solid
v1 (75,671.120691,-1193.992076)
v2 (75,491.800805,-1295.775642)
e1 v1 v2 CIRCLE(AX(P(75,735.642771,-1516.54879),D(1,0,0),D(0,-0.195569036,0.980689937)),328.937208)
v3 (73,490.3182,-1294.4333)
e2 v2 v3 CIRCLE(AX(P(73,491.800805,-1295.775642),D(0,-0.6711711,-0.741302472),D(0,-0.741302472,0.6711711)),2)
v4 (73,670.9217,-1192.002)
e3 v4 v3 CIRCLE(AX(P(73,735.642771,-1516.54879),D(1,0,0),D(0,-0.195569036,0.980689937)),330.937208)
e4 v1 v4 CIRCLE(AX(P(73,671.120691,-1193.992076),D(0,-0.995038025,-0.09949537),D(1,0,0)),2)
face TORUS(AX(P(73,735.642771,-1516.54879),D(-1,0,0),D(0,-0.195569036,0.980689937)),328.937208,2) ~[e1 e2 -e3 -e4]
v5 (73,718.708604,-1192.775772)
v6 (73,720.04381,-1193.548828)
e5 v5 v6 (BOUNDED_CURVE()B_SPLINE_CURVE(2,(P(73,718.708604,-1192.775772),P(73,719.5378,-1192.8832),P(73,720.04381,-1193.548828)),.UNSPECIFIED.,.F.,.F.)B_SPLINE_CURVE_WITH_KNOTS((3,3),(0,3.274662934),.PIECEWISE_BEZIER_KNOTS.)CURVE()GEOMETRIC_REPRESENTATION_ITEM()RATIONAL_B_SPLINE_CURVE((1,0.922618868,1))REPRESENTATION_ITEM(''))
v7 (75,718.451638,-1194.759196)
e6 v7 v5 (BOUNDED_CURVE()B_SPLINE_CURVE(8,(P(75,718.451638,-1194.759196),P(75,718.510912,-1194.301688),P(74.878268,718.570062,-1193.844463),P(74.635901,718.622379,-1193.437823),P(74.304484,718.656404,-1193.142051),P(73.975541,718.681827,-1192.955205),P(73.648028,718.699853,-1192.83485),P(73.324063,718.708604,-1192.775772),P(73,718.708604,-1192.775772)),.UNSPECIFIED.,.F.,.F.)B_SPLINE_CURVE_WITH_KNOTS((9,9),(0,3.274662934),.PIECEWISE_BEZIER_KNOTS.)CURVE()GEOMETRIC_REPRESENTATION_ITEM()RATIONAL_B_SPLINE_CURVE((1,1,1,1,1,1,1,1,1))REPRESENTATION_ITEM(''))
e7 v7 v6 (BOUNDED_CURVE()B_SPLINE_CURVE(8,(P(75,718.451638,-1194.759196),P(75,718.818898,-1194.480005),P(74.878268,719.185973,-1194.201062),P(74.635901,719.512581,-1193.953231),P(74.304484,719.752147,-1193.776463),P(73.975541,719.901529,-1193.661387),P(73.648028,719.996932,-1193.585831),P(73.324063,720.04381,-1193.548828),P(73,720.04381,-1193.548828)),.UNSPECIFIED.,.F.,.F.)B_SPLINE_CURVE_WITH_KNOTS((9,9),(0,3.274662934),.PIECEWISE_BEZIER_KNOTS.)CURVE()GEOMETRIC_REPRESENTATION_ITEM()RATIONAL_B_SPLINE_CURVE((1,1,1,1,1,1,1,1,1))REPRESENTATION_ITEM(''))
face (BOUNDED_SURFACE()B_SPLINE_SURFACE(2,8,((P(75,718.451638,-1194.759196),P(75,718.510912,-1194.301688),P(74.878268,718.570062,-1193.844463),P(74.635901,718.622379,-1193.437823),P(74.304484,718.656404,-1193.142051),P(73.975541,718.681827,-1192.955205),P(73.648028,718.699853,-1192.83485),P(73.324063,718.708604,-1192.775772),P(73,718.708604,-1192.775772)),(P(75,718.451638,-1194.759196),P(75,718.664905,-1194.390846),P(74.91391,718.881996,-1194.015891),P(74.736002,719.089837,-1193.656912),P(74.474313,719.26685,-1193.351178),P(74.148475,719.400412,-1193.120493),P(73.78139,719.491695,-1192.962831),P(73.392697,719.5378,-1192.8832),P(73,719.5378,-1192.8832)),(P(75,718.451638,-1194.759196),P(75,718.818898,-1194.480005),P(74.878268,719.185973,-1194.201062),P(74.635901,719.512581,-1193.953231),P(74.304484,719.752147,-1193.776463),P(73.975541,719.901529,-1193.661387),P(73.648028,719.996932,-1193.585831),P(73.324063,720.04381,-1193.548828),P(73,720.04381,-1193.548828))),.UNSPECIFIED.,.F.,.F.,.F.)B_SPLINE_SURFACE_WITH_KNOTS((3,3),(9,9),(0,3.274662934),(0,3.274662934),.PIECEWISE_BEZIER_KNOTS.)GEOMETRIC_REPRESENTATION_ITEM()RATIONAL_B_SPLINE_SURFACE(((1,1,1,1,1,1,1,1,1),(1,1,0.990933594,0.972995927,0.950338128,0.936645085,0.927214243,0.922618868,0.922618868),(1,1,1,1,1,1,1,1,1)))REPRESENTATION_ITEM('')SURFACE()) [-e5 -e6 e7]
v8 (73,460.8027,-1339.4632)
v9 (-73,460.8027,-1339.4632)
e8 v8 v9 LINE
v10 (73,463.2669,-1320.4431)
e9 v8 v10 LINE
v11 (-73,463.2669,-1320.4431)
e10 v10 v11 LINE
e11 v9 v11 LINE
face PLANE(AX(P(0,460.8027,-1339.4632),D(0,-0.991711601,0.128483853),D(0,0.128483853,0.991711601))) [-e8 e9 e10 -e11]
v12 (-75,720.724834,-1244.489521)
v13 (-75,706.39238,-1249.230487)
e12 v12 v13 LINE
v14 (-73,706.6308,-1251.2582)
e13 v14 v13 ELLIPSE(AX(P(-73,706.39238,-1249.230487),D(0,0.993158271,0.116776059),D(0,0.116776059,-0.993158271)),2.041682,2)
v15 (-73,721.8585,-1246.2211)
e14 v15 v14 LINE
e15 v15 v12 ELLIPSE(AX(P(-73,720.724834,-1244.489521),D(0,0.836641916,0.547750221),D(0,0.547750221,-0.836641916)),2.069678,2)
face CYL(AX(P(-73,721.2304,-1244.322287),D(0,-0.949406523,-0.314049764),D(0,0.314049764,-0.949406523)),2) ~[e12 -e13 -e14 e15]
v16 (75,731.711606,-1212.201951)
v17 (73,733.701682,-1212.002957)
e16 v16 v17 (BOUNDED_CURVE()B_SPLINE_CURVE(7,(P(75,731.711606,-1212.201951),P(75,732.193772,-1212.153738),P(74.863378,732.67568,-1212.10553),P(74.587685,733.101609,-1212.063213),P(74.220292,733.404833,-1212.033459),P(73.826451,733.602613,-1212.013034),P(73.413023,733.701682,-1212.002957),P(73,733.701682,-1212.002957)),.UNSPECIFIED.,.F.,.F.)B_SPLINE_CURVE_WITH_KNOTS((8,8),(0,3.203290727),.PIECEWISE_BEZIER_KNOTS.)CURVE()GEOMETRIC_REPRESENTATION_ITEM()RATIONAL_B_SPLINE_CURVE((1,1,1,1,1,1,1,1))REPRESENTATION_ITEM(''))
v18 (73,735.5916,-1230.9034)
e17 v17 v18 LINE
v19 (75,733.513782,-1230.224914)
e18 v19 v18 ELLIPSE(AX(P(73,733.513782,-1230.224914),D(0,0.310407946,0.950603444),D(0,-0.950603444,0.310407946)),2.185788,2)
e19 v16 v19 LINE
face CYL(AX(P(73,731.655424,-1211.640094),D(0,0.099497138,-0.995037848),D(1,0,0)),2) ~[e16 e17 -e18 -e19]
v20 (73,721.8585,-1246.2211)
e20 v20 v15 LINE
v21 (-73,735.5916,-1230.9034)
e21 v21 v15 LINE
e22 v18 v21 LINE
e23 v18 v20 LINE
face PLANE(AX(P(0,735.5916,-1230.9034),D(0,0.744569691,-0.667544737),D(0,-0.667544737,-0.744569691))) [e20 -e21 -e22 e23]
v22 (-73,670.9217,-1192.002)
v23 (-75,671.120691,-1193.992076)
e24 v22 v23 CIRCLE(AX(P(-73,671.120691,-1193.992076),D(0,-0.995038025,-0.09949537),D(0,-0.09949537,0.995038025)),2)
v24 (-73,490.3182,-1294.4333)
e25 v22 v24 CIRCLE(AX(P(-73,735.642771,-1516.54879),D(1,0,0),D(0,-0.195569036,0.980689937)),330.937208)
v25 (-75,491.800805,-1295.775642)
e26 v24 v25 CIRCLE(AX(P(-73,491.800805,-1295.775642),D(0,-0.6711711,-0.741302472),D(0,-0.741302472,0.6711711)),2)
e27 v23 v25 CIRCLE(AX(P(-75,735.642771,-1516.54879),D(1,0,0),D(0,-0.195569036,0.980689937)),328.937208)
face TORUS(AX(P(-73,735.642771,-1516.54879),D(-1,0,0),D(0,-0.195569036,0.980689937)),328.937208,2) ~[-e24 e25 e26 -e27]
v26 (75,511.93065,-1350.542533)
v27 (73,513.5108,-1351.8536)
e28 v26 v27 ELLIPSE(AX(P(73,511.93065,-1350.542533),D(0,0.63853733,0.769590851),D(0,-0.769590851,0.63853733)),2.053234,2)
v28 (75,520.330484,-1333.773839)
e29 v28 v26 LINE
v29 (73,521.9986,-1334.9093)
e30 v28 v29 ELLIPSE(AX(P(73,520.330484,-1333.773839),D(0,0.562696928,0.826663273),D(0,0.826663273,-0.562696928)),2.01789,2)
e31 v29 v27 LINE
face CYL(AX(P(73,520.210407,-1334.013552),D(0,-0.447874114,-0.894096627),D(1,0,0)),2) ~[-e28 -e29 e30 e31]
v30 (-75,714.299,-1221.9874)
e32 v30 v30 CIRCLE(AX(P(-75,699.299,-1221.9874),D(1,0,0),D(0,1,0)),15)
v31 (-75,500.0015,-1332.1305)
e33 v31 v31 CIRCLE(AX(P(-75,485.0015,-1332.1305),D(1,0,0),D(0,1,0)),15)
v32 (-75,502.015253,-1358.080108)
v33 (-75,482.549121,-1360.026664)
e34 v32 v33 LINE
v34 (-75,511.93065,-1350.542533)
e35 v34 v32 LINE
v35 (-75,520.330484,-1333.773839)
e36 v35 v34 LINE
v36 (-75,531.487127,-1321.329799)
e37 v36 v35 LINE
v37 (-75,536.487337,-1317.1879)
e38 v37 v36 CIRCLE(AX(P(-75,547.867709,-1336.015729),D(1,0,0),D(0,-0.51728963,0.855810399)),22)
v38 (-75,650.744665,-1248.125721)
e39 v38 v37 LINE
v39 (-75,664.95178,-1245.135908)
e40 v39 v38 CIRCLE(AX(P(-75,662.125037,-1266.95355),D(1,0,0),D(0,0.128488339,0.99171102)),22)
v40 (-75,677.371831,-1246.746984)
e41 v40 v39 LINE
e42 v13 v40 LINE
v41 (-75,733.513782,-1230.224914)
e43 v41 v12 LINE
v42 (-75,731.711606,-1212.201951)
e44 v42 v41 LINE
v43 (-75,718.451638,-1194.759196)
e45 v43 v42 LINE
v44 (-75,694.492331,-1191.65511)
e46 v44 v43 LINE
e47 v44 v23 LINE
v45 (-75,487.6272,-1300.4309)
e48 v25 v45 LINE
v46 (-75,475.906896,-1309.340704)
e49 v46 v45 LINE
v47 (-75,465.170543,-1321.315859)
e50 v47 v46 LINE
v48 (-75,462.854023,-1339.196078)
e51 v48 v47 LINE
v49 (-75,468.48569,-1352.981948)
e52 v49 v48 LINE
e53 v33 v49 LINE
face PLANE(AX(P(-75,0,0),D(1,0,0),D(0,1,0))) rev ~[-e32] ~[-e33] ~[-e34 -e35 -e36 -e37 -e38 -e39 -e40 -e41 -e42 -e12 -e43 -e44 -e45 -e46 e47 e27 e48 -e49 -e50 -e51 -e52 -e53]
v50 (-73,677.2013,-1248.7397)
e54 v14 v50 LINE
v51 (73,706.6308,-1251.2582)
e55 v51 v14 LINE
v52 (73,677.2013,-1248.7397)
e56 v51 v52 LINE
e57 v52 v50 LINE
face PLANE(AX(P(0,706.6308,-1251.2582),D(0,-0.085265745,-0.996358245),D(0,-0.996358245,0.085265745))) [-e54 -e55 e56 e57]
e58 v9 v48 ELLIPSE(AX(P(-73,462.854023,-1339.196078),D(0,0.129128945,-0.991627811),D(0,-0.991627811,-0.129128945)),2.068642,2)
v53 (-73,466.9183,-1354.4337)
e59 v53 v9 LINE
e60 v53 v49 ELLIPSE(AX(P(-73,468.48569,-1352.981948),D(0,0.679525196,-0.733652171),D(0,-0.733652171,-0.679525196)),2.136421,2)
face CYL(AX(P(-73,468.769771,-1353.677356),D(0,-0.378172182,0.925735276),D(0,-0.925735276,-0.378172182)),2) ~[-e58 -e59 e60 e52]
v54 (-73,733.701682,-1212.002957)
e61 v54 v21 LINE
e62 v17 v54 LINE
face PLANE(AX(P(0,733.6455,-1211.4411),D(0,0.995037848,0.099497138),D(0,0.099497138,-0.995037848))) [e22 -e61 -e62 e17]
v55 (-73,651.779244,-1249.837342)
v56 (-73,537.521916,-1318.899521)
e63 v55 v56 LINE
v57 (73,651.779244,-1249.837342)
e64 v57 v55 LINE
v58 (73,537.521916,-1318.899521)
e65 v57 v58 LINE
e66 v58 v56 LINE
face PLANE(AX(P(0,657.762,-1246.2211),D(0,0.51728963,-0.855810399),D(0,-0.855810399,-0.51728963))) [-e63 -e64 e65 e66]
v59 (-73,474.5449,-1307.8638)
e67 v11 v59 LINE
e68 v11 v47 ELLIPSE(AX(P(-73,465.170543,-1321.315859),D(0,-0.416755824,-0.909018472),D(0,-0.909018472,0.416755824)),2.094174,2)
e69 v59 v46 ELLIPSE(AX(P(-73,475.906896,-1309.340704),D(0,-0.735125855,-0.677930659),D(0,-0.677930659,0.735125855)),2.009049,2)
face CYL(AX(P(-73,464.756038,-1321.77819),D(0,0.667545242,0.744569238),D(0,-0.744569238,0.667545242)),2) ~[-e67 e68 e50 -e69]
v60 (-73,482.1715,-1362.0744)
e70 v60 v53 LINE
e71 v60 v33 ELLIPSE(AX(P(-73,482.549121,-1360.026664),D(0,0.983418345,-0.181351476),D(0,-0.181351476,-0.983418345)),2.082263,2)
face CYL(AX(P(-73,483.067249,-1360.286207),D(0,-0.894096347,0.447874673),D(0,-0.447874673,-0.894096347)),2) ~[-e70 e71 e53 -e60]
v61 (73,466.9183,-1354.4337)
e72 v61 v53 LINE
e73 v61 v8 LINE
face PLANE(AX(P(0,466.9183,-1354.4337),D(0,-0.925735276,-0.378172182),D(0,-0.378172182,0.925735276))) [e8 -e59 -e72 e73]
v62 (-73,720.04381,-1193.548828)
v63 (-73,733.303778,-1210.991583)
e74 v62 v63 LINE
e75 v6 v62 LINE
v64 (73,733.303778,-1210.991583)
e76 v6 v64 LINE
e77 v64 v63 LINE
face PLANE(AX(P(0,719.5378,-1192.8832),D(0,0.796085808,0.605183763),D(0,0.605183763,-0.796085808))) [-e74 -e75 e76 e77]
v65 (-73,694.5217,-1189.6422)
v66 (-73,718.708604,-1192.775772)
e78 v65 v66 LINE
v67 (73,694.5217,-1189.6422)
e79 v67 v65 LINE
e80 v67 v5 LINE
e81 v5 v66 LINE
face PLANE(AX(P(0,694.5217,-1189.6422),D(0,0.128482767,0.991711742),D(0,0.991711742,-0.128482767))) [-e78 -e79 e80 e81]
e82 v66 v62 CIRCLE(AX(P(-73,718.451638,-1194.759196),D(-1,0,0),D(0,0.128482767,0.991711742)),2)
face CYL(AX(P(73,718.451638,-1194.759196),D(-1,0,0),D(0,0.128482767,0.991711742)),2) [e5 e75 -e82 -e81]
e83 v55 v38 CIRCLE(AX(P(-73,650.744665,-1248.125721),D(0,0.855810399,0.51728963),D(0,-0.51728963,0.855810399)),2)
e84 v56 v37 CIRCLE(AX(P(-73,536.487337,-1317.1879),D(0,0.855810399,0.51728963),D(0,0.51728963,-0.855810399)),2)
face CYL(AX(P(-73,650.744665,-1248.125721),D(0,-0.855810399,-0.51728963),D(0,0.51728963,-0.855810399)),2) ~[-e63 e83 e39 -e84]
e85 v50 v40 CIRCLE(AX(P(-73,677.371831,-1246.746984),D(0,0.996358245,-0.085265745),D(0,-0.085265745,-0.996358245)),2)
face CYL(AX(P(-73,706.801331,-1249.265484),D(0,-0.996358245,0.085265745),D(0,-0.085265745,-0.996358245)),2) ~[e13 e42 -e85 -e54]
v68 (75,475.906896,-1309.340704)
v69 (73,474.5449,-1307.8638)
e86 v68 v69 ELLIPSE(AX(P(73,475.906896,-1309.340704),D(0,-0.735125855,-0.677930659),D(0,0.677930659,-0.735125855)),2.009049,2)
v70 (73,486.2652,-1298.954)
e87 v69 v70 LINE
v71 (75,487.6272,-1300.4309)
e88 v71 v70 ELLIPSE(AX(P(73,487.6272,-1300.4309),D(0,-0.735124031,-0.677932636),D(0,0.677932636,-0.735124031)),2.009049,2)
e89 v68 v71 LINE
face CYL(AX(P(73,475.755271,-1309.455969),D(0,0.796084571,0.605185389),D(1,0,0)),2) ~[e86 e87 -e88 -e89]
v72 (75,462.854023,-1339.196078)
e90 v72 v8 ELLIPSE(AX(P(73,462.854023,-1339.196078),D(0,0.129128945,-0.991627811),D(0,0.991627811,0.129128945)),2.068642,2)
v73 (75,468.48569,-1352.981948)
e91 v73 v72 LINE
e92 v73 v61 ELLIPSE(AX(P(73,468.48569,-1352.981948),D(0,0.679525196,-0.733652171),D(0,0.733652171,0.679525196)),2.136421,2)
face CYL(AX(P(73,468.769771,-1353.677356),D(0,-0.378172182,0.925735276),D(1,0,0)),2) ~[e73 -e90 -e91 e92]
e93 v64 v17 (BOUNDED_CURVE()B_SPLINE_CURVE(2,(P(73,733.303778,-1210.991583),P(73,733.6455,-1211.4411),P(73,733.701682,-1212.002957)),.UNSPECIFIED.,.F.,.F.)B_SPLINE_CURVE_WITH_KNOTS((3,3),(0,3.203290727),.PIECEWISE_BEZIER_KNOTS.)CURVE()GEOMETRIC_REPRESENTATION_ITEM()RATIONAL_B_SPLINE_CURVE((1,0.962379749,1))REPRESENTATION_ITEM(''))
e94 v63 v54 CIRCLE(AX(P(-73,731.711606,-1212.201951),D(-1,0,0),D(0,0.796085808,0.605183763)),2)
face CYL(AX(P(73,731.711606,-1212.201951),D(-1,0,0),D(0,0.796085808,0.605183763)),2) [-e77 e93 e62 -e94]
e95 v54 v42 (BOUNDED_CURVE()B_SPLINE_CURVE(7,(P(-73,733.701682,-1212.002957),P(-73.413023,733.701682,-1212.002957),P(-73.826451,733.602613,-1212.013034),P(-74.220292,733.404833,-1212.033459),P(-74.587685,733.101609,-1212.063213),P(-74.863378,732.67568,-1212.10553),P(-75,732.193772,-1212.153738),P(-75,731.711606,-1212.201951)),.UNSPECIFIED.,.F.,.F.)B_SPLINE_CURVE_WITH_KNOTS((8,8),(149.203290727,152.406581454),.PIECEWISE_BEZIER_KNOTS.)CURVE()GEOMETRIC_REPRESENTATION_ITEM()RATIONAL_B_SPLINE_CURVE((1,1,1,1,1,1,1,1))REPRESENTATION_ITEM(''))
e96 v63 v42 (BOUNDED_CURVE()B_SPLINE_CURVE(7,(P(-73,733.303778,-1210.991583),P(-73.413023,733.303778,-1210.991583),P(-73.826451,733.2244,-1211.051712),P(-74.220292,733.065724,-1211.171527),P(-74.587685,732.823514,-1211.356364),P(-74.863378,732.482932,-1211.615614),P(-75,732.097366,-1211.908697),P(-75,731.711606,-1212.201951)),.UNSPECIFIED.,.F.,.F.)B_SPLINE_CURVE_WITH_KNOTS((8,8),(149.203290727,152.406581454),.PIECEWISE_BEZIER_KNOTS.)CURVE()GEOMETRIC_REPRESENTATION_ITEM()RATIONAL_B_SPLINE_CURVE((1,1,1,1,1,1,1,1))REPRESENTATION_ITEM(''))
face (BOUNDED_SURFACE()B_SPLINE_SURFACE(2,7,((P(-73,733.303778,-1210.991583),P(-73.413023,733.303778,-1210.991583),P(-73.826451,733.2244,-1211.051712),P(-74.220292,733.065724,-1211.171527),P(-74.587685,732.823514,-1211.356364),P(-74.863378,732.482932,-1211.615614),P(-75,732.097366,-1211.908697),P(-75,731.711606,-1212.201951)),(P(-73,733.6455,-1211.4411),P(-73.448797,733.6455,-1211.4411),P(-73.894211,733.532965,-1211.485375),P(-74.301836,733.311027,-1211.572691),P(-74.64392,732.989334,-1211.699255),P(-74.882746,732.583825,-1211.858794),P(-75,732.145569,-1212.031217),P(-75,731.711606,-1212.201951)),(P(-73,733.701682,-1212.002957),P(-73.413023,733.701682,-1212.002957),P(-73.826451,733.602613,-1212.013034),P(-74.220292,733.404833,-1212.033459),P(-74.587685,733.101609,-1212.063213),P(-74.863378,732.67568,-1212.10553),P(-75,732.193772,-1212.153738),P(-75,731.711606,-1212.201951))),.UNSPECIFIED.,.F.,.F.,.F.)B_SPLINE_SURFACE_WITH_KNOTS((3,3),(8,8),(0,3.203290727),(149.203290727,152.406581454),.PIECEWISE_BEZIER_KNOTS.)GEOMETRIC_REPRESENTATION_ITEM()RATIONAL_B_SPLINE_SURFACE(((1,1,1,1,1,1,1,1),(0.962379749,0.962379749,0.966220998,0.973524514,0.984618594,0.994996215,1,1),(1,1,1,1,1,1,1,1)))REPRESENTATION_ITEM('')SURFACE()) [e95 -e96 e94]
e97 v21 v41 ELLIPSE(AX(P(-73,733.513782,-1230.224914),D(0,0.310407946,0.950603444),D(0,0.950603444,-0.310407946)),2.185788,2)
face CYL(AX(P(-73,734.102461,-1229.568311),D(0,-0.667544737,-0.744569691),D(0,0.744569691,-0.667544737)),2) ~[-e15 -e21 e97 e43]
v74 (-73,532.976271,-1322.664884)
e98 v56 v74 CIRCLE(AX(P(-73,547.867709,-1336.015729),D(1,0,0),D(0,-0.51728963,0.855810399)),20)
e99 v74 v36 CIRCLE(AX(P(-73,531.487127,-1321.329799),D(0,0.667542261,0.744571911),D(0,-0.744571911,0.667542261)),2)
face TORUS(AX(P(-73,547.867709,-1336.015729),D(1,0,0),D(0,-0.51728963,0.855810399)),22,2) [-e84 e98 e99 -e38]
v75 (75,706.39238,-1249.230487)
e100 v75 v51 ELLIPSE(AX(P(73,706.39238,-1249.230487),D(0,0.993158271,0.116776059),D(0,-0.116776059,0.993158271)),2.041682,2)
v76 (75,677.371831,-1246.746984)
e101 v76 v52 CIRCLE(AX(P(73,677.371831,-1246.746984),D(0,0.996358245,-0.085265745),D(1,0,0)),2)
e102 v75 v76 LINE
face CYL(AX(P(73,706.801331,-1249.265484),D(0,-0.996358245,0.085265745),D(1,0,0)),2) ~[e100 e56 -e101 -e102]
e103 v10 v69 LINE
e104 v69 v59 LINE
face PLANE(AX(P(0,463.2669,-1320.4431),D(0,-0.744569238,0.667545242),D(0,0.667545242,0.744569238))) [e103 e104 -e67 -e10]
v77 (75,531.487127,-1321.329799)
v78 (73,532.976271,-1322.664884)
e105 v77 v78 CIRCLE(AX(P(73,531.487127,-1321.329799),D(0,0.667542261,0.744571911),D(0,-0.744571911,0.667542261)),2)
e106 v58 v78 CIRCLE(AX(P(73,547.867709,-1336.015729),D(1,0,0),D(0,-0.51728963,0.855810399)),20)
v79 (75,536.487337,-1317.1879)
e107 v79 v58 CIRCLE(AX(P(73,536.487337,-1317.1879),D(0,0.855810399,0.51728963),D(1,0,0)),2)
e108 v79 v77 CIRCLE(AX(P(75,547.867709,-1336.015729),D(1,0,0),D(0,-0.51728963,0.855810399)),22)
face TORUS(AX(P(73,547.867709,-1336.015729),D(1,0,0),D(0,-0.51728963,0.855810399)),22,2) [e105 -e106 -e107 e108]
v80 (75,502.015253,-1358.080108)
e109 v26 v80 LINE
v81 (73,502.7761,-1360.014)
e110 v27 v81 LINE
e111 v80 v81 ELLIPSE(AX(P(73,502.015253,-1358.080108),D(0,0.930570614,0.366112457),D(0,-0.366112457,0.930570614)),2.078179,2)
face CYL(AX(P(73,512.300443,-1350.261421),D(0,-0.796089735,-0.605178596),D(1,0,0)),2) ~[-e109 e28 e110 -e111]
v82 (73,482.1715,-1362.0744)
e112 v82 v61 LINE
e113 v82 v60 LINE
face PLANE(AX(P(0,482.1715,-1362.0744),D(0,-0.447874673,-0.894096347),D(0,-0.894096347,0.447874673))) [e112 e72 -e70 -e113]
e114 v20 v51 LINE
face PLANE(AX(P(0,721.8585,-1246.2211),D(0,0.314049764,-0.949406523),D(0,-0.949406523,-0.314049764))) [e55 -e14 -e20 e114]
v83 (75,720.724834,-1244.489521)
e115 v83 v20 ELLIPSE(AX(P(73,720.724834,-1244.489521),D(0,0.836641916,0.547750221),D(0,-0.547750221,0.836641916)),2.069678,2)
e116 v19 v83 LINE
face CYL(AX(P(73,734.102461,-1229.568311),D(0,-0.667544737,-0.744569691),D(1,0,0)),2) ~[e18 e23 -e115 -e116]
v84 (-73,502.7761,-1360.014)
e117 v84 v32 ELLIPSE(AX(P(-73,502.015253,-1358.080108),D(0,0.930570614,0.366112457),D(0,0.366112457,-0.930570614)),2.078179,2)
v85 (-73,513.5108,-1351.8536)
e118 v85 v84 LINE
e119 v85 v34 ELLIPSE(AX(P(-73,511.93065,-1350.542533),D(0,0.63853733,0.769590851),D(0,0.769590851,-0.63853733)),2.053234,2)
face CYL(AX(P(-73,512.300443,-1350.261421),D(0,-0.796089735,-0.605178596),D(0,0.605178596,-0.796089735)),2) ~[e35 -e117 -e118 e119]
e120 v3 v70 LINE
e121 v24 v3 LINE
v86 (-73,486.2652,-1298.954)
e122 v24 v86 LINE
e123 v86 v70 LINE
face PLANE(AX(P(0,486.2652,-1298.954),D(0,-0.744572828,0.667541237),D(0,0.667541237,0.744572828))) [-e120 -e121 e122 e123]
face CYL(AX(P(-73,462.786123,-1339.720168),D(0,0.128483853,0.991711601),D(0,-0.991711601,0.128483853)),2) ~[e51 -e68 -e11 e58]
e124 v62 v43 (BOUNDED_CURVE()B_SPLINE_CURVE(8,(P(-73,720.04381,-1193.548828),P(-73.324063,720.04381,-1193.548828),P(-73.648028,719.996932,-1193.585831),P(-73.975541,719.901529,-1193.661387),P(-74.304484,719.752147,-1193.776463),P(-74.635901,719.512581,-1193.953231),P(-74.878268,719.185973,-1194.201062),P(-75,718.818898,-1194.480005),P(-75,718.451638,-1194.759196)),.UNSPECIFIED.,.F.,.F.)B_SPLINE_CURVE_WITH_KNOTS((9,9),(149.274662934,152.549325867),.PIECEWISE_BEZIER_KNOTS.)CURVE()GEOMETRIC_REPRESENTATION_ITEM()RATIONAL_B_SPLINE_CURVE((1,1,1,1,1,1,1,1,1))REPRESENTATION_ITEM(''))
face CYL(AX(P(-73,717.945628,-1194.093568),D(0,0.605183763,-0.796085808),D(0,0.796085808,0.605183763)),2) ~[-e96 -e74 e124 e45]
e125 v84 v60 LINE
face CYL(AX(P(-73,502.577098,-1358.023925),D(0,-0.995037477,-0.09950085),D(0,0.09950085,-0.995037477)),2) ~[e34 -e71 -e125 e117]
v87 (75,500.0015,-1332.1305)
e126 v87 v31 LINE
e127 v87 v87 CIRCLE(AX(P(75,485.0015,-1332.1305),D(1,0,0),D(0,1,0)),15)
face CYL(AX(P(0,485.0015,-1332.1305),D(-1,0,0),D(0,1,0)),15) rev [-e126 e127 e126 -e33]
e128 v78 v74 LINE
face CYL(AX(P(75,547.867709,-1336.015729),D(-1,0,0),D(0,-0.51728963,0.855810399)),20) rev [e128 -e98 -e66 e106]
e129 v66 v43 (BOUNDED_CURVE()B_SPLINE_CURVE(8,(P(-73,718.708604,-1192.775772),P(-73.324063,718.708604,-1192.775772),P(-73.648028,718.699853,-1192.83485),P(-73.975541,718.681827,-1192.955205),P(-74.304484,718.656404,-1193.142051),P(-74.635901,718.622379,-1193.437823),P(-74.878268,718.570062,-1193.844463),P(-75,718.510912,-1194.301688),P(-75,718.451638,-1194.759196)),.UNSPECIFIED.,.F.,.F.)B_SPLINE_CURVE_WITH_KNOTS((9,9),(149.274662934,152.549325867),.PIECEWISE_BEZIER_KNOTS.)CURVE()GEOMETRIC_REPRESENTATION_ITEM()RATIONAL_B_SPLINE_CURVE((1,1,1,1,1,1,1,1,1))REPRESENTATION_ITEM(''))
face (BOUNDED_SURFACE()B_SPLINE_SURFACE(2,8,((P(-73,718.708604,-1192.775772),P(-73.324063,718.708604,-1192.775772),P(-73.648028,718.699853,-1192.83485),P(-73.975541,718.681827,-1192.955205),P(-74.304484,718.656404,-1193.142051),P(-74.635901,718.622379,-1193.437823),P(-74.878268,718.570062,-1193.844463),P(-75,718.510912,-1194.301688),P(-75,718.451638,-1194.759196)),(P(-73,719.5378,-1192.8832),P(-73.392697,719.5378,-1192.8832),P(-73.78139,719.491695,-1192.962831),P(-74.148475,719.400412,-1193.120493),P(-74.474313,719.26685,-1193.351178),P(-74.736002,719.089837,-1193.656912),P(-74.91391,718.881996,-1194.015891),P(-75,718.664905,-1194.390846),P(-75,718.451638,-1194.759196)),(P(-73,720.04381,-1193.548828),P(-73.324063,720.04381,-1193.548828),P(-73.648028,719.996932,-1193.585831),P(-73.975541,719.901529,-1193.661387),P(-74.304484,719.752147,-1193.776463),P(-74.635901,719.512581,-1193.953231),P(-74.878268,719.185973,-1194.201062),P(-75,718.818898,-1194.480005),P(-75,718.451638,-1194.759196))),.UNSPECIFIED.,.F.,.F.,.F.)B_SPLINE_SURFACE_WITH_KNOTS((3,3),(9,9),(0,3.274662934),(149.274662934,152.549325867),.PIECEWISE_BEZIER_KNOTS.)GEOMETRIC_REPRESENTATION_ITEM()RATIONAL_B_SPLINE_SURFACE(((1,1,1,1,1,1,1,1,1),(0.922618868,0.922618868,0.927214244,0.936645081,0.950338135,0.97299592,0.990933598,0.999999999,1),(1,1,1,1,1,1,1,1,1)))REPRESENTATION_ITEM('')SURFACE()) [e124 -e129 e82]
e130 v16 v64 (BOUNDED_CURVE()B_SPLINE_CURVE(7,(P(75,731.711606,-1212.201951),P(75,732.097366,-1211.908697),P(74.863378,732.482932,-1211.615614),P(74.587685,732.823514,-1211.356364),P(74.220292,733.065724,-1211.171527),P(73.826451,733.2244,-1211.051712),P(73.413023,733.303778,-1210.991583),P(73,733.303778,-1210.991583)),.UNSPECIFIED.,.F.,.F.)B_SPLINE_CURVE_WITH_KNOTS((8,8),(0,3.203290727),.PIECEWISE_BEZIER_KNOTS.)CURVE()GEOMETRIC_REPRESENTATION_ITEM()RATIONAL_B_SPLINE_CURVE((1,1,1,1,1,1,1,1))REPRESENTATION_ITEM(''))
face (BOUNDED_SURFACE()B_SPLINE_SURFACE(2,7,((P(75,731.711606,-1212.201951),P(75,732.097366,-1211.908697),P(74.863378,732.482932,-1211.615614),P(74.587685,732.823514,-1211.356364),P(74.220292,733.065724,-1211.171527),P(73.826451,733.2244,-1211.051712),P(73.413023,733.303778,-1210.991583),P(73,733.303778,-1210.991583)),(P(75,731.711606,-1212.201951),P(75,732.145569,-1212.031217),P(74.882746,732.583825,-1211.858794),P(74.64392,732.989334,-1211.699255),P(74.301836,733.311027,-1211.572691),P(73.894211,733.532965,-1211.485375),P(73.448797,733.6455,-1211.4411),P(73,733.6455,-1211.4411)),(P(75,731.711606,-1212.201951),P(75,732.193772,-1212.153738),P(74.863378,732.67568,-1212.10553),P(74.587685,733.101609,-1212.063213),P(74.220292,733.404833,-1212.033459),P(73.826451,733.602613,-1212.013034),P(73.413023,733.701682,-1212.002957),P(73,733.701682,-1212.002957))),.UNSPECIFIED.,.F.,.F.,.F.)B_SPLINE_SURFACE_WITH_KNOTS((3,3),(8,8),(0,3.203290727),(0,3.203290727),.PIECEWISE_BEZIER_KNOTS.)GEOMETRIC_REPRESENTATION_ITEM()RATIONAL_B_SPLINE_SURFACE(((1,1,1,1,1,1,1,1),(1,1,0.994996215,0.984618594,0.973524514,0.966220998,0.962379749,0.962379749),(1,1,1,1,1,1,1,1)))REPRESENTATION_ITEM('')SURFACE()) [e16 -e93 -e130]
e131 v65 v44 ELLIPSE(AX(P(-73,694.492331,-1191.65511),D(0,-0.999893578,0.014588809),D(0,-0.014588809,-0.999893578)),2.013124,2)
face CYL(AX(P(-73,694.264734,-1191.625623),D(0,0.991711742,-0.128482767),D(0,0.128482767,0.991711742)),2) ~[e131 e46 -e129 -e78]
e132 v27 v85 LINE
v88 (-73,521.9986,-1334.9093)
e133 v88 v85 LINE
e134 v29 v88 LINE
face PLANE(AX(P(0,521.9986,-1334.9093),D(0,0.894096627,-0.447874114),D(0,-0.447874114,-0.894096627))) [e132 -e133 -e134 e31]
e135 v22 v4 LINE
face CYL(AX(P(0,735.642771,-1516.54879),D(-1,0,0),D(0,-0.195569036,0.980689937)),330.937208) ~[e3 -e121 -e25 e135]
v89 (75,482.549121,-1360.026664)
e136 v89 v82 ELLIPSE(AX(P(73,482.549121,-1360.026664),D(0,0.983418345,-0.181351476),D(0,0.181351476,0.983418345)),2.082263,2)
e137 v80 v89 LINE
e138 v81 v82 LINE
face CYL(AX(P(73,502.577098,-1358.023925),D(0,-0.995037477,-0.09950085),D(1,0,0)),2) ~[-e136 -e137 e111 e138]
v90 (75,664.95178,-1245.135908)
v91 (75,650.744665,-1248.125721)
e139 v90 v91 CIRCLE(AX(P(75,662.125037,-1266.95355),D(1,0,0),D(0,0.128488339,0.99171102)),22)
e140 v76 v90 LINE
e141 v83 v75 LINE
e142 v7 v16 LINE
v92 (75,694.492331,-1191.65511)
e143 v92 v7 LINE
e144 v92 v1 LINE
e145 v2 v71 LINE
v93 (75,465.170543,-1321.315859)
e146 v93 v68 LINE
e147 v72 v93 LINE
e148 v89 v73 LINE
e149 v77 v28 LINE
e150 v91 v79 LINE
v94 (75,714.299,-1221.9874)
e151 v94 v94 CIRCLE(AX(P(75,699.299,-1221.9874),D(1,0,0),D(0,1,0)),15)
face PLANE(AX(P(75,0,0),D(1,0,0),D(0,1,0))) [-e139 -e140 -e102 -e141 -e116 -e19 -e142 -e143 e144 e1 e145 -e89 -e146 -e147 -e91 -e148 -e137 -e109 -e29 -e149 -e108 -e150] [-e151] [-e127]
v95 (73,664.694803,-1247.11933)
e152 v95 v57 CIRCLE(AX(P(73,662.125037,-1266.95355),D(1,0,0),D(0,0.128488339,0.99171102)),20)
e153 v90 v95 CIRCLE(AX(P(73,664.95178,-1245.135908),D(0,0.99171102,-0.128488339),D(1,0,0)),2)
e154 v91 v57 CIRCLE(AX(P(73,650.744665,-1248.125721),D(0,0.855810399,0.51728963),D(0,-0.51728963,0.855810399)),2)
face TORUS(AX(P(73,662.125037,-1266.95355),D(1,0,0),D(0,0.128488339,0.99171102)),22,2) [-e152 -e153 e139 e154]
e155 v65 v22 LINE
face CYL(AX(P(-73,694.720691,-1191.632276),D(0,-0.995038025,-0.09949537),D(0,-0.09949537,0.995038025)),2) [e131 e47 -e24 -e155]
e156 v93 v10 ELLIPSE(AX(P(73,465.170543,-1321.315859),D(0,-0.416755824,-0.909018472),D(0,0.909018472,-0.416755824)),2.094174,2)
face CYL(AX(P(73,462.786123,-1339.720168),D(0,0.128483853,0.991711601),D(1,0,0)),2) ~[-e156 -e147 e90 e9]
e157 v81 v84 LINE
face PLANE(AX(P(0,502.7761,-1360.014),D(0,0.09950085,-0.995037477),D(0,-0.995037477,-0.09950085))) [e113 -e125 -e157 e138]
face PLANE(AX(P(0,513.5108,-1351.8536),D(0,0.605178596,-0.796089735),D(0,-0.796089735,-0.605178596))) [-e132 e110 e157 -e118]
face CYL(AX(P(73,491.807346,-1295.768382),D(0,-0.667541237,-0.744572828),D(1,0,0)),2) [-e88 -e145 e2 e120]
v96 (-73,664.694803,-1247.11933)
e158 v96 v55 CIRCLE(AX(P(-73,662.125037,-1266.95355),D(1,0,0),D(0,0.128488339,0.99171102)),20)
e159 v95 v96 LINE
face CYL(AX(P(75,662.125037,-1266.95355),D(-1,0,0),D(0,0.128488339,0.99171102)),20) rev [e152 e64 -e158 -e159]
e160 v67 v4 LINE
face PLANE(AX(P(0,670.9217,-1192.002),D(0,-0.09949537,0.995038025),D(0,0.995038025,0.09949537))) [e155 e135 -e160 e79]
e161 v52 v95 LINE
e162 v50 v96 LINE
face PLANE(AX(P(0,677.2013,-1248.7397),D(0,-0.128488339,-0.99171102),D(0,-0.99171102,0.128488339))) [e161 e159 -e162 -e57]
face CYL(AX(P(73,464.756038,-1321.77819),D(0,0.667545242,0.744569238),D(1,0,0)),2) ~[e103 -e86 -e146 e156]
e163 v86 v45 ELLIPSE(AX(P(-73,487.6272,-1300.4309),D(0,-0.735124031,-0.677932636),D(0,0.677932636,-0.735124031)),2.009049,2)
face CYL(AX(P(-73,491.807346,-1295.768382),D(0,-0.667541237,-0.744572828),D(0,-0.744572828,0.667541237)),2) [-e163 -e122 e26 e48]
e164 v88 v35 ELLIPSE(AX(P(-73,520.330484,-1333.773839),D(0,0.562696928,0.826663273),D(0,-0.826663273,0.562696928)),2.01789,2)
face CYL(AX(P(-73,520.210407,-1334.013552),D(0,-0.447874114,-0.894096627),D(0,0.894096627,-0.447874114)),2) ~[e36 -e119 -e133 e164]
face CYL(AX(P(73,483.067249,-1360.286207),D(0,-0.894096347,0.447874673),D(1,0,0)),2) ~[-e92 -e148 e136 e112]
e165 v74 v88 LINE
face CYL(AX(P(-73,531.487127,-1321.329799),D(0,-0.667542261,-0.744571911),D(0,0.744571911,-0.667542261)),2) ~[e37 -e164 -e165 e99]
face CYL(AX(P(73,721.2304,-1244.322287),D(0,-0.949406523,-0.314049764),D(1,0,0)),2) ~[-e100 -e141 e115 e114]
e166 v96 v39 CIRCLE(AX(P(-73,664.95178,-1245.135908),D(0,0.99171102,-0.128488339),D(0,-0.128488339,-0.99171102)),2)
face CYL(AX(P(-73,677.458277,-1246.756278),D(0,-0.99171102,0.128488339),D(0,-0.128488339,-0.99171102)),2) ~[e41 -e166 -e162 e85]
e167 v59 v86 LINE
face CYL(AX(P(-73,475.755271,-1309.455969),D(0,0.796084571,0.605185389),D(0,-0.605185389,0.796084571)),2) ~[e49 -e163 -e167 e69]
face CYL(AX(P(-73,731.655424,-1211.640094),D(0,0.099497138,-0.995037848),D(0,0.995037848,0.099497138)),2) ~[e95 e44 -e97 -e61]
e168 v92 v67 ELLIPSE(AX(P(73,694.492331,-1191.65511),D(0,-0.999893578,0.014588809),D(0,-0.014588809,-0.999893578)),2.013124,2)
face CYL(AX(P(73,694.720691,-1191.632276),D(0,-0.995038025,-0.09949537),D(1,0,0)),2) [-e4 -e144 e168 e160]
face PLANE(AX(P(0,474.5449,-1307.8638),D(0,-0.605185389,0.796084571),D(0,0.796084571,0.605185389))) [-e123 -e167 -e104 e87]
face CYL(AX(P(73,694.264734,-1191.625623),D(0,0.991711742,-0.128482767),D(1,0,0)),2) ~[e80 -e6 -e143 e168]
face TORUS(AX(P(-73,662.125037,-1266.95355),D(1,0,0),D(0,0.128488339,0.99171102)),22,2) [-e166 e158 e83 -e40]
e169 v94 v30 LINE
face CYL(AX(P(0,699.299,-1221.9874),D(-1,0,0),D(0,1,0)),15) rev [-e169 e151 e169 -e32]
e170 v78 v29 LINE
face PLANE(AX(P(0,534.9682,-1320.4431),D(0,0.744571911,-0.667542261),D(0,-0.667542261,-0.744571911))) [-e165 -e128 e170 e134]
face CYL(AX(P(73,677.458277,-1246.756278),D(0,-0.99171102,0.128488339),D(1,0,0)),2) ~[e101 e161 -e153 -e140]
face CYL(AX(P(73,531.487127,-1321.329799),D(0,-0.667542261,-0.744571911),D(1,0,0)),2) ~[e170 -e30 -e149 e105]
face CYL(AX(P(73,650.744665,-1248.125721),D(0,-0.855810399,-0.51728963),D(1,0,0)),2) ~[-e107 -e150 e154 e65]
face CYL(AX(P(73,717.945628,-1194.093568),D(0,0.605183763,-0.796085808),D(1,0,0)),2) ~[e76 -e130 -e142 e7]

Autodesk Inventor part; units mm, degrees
ref_plane "YZ Plane" through (0, 0, 0) normal (1, 0, 0) x (0, 1, 0)
ref_plane "XZ Plane" through (0, 0, 0) normal (0, 1, 0) x (-1, 0, 0)
ref_plane "XY Plane" through (0, 0, 0) normal (0, 0, 1) x (1, 0, 0)
sketch "Sketch1" plane through (0, 0, 0) normal (1, 0, 0) x (0, 1, 0)
  line L0 (2812.3869, 0) -> (2812.3869, -5171.1623) construction
  line L1 (2812.3869, -5171.1623) -> (0, -5171.1623) construction
  line L2 (0, -5171.1623) -> (0, 0) construction
  line L3 (0, 0) -> (2812.3869, 0) construction
  point P0 (0, 0)
sketch "Sketch3" plane through (0, 0, 0) normal (1, 0, 0) x (0, 1, 0)
  arc A0 (670.9217, -1192.002) -> (490.3182, -1294.4333) centre (735.6427, -1516.5486) ccw
  circle A1 centre (699.299, -1221.9874) radius 15
  circle A2 centre (485.0015, -1332.1305) radius 15
  line L0 (670.9217, -1192.002) -> (694.5217, -1189.6422)
  line L1 (694.5217, -1189.6422) -> (719.5378, -1192.8832)
  line L2 (719.5378, -1192.8832) -> (733.6455, -1211.4411)
  line L3 (733.6455, -1211.4411) -> (735.5916, -1230.9034)
  line L4 (735.5916, -1230.9034) -> (721.8585, -1246.2211)
  line L5 (721.8585, -1246.2211) -> (706.6308, -1251.2582)
  line L6 (706.6308, -1251.2582) -> (677.2013, -1248.7397)
  line L7 (677.2013, -1248.7397) -> (657.762, -1246.2211)
  line L8 (657.762, -1246.2211) -> (534.9682, -1320.4431)
  line L9 (534.9682, -1320.4431) -> (521.9986, -1334.9093)
  line L10 (521.9986, -1334.9093) -> (513.5108, -1351.8536)
  line L11 (513.5108, -1351.8536) -> (502.7761, -1360.014)
  line L12 (502.7761, -1360.014) -> (482.1715, -1362.0744)
  line L13 (482.1715, -1362.0744) -> (466.9183, -1354.4337)
  line L14 (466.9183, -1354.4337) -> (460.8027, -1339.4632)
  line L15 (460.8027, -1339.4632) -> (463.2669, -1320.4431)
  line L16 (463.2669, -1320.4431) -> (474.5449, -1307.8638)
  line L17 (474.5449, -1307.8638) -> (486.2652, -1298.954)
  line L18 (486.2652, -1298.954) -> (490.3182, -1294.4333)
  point P0 (0, 0)
  dimension "d9" = 30
  dimension "d10" = 30
extrude "Extrusion2" add sketch "Sketch3" along normal mid plane 150
fillet "Fillet1" radius 20 2 edges at (0, 657.762, -1246.2211) (0, 534.9682, -1320.4431)
fillet "Fillet2" radius 2 42 edges at (75, 572.3788, -1228.6872) (75, 488.2917, -1296.6937) (75, 480.405, -1303.4089) (75, 468.9059, -1314.1535) (75, 462.0348, -1329.9531) (75, 463.8605, -1346.9484) (75, 474.5449, -1358.254) (75, 492.4738, -1361.0442) (75, 508.1435, -1355.9338) (75, 517.7547, -1343.3815) (75, 527.4874, -1328.7871) (75, 535.1095, -1320.6136) (75, 594.6506, -1284.3684) (75, 670.948, -1247.9295) (75, 691.916, -1249.9989) (75, 714.2446, -1248.7397) (75, 728.725, -1238.5623) (75, 734.6185, -1221.1723) (75, 726.5916, -1202.1622) (75, 707.0298, -1191.2627) (75, 682.7217, -1190.8221) (-75, 572.3788, -1228.6872) (-75, 682.7217, -1190.8221) (-75, 707.0298, -1191.2627) (-75, 726.5916, -1202.1622) (-75, 734.6185, -1221.1723) (-75, 728.725, -1238.5623) (-75, 714.2446, -1248.7397) (-75, 691.916, -1249.9989) (-75, 670.948, -1247.9295) (-75, 594.6506, -1284.3684) (-75, 535.1095, -1320.6136) (-75, 527.4874, -1328.7871) (-75, 517.7547, -1343.3815) (-75, 508.1435, -1355.9338) (-75, 492.4738, -1361.0442) (-75, 474.5449, -1358.254) (-75, 463.8605, -1346.9484) (-75, 462.0348, -1329.9531) (-75, 468.9059, -1314.1535) (-75, 480.405, -1303.4089) (-75, 488.2917, -1296.6937)
fillet "Fillet3" radius 2 6 edges at (0, 719.5378, -1192.8832) (0, 733.6455, -1211.4411) (74.4142, 719.2197, -1193.4327) (-74.4142, 719.2197, -1193.4327) (74.4142, 733.079, -1211.6639) (-74.4142, 733.079, -1211.6639)
properties part number "Lankarm_lång"
